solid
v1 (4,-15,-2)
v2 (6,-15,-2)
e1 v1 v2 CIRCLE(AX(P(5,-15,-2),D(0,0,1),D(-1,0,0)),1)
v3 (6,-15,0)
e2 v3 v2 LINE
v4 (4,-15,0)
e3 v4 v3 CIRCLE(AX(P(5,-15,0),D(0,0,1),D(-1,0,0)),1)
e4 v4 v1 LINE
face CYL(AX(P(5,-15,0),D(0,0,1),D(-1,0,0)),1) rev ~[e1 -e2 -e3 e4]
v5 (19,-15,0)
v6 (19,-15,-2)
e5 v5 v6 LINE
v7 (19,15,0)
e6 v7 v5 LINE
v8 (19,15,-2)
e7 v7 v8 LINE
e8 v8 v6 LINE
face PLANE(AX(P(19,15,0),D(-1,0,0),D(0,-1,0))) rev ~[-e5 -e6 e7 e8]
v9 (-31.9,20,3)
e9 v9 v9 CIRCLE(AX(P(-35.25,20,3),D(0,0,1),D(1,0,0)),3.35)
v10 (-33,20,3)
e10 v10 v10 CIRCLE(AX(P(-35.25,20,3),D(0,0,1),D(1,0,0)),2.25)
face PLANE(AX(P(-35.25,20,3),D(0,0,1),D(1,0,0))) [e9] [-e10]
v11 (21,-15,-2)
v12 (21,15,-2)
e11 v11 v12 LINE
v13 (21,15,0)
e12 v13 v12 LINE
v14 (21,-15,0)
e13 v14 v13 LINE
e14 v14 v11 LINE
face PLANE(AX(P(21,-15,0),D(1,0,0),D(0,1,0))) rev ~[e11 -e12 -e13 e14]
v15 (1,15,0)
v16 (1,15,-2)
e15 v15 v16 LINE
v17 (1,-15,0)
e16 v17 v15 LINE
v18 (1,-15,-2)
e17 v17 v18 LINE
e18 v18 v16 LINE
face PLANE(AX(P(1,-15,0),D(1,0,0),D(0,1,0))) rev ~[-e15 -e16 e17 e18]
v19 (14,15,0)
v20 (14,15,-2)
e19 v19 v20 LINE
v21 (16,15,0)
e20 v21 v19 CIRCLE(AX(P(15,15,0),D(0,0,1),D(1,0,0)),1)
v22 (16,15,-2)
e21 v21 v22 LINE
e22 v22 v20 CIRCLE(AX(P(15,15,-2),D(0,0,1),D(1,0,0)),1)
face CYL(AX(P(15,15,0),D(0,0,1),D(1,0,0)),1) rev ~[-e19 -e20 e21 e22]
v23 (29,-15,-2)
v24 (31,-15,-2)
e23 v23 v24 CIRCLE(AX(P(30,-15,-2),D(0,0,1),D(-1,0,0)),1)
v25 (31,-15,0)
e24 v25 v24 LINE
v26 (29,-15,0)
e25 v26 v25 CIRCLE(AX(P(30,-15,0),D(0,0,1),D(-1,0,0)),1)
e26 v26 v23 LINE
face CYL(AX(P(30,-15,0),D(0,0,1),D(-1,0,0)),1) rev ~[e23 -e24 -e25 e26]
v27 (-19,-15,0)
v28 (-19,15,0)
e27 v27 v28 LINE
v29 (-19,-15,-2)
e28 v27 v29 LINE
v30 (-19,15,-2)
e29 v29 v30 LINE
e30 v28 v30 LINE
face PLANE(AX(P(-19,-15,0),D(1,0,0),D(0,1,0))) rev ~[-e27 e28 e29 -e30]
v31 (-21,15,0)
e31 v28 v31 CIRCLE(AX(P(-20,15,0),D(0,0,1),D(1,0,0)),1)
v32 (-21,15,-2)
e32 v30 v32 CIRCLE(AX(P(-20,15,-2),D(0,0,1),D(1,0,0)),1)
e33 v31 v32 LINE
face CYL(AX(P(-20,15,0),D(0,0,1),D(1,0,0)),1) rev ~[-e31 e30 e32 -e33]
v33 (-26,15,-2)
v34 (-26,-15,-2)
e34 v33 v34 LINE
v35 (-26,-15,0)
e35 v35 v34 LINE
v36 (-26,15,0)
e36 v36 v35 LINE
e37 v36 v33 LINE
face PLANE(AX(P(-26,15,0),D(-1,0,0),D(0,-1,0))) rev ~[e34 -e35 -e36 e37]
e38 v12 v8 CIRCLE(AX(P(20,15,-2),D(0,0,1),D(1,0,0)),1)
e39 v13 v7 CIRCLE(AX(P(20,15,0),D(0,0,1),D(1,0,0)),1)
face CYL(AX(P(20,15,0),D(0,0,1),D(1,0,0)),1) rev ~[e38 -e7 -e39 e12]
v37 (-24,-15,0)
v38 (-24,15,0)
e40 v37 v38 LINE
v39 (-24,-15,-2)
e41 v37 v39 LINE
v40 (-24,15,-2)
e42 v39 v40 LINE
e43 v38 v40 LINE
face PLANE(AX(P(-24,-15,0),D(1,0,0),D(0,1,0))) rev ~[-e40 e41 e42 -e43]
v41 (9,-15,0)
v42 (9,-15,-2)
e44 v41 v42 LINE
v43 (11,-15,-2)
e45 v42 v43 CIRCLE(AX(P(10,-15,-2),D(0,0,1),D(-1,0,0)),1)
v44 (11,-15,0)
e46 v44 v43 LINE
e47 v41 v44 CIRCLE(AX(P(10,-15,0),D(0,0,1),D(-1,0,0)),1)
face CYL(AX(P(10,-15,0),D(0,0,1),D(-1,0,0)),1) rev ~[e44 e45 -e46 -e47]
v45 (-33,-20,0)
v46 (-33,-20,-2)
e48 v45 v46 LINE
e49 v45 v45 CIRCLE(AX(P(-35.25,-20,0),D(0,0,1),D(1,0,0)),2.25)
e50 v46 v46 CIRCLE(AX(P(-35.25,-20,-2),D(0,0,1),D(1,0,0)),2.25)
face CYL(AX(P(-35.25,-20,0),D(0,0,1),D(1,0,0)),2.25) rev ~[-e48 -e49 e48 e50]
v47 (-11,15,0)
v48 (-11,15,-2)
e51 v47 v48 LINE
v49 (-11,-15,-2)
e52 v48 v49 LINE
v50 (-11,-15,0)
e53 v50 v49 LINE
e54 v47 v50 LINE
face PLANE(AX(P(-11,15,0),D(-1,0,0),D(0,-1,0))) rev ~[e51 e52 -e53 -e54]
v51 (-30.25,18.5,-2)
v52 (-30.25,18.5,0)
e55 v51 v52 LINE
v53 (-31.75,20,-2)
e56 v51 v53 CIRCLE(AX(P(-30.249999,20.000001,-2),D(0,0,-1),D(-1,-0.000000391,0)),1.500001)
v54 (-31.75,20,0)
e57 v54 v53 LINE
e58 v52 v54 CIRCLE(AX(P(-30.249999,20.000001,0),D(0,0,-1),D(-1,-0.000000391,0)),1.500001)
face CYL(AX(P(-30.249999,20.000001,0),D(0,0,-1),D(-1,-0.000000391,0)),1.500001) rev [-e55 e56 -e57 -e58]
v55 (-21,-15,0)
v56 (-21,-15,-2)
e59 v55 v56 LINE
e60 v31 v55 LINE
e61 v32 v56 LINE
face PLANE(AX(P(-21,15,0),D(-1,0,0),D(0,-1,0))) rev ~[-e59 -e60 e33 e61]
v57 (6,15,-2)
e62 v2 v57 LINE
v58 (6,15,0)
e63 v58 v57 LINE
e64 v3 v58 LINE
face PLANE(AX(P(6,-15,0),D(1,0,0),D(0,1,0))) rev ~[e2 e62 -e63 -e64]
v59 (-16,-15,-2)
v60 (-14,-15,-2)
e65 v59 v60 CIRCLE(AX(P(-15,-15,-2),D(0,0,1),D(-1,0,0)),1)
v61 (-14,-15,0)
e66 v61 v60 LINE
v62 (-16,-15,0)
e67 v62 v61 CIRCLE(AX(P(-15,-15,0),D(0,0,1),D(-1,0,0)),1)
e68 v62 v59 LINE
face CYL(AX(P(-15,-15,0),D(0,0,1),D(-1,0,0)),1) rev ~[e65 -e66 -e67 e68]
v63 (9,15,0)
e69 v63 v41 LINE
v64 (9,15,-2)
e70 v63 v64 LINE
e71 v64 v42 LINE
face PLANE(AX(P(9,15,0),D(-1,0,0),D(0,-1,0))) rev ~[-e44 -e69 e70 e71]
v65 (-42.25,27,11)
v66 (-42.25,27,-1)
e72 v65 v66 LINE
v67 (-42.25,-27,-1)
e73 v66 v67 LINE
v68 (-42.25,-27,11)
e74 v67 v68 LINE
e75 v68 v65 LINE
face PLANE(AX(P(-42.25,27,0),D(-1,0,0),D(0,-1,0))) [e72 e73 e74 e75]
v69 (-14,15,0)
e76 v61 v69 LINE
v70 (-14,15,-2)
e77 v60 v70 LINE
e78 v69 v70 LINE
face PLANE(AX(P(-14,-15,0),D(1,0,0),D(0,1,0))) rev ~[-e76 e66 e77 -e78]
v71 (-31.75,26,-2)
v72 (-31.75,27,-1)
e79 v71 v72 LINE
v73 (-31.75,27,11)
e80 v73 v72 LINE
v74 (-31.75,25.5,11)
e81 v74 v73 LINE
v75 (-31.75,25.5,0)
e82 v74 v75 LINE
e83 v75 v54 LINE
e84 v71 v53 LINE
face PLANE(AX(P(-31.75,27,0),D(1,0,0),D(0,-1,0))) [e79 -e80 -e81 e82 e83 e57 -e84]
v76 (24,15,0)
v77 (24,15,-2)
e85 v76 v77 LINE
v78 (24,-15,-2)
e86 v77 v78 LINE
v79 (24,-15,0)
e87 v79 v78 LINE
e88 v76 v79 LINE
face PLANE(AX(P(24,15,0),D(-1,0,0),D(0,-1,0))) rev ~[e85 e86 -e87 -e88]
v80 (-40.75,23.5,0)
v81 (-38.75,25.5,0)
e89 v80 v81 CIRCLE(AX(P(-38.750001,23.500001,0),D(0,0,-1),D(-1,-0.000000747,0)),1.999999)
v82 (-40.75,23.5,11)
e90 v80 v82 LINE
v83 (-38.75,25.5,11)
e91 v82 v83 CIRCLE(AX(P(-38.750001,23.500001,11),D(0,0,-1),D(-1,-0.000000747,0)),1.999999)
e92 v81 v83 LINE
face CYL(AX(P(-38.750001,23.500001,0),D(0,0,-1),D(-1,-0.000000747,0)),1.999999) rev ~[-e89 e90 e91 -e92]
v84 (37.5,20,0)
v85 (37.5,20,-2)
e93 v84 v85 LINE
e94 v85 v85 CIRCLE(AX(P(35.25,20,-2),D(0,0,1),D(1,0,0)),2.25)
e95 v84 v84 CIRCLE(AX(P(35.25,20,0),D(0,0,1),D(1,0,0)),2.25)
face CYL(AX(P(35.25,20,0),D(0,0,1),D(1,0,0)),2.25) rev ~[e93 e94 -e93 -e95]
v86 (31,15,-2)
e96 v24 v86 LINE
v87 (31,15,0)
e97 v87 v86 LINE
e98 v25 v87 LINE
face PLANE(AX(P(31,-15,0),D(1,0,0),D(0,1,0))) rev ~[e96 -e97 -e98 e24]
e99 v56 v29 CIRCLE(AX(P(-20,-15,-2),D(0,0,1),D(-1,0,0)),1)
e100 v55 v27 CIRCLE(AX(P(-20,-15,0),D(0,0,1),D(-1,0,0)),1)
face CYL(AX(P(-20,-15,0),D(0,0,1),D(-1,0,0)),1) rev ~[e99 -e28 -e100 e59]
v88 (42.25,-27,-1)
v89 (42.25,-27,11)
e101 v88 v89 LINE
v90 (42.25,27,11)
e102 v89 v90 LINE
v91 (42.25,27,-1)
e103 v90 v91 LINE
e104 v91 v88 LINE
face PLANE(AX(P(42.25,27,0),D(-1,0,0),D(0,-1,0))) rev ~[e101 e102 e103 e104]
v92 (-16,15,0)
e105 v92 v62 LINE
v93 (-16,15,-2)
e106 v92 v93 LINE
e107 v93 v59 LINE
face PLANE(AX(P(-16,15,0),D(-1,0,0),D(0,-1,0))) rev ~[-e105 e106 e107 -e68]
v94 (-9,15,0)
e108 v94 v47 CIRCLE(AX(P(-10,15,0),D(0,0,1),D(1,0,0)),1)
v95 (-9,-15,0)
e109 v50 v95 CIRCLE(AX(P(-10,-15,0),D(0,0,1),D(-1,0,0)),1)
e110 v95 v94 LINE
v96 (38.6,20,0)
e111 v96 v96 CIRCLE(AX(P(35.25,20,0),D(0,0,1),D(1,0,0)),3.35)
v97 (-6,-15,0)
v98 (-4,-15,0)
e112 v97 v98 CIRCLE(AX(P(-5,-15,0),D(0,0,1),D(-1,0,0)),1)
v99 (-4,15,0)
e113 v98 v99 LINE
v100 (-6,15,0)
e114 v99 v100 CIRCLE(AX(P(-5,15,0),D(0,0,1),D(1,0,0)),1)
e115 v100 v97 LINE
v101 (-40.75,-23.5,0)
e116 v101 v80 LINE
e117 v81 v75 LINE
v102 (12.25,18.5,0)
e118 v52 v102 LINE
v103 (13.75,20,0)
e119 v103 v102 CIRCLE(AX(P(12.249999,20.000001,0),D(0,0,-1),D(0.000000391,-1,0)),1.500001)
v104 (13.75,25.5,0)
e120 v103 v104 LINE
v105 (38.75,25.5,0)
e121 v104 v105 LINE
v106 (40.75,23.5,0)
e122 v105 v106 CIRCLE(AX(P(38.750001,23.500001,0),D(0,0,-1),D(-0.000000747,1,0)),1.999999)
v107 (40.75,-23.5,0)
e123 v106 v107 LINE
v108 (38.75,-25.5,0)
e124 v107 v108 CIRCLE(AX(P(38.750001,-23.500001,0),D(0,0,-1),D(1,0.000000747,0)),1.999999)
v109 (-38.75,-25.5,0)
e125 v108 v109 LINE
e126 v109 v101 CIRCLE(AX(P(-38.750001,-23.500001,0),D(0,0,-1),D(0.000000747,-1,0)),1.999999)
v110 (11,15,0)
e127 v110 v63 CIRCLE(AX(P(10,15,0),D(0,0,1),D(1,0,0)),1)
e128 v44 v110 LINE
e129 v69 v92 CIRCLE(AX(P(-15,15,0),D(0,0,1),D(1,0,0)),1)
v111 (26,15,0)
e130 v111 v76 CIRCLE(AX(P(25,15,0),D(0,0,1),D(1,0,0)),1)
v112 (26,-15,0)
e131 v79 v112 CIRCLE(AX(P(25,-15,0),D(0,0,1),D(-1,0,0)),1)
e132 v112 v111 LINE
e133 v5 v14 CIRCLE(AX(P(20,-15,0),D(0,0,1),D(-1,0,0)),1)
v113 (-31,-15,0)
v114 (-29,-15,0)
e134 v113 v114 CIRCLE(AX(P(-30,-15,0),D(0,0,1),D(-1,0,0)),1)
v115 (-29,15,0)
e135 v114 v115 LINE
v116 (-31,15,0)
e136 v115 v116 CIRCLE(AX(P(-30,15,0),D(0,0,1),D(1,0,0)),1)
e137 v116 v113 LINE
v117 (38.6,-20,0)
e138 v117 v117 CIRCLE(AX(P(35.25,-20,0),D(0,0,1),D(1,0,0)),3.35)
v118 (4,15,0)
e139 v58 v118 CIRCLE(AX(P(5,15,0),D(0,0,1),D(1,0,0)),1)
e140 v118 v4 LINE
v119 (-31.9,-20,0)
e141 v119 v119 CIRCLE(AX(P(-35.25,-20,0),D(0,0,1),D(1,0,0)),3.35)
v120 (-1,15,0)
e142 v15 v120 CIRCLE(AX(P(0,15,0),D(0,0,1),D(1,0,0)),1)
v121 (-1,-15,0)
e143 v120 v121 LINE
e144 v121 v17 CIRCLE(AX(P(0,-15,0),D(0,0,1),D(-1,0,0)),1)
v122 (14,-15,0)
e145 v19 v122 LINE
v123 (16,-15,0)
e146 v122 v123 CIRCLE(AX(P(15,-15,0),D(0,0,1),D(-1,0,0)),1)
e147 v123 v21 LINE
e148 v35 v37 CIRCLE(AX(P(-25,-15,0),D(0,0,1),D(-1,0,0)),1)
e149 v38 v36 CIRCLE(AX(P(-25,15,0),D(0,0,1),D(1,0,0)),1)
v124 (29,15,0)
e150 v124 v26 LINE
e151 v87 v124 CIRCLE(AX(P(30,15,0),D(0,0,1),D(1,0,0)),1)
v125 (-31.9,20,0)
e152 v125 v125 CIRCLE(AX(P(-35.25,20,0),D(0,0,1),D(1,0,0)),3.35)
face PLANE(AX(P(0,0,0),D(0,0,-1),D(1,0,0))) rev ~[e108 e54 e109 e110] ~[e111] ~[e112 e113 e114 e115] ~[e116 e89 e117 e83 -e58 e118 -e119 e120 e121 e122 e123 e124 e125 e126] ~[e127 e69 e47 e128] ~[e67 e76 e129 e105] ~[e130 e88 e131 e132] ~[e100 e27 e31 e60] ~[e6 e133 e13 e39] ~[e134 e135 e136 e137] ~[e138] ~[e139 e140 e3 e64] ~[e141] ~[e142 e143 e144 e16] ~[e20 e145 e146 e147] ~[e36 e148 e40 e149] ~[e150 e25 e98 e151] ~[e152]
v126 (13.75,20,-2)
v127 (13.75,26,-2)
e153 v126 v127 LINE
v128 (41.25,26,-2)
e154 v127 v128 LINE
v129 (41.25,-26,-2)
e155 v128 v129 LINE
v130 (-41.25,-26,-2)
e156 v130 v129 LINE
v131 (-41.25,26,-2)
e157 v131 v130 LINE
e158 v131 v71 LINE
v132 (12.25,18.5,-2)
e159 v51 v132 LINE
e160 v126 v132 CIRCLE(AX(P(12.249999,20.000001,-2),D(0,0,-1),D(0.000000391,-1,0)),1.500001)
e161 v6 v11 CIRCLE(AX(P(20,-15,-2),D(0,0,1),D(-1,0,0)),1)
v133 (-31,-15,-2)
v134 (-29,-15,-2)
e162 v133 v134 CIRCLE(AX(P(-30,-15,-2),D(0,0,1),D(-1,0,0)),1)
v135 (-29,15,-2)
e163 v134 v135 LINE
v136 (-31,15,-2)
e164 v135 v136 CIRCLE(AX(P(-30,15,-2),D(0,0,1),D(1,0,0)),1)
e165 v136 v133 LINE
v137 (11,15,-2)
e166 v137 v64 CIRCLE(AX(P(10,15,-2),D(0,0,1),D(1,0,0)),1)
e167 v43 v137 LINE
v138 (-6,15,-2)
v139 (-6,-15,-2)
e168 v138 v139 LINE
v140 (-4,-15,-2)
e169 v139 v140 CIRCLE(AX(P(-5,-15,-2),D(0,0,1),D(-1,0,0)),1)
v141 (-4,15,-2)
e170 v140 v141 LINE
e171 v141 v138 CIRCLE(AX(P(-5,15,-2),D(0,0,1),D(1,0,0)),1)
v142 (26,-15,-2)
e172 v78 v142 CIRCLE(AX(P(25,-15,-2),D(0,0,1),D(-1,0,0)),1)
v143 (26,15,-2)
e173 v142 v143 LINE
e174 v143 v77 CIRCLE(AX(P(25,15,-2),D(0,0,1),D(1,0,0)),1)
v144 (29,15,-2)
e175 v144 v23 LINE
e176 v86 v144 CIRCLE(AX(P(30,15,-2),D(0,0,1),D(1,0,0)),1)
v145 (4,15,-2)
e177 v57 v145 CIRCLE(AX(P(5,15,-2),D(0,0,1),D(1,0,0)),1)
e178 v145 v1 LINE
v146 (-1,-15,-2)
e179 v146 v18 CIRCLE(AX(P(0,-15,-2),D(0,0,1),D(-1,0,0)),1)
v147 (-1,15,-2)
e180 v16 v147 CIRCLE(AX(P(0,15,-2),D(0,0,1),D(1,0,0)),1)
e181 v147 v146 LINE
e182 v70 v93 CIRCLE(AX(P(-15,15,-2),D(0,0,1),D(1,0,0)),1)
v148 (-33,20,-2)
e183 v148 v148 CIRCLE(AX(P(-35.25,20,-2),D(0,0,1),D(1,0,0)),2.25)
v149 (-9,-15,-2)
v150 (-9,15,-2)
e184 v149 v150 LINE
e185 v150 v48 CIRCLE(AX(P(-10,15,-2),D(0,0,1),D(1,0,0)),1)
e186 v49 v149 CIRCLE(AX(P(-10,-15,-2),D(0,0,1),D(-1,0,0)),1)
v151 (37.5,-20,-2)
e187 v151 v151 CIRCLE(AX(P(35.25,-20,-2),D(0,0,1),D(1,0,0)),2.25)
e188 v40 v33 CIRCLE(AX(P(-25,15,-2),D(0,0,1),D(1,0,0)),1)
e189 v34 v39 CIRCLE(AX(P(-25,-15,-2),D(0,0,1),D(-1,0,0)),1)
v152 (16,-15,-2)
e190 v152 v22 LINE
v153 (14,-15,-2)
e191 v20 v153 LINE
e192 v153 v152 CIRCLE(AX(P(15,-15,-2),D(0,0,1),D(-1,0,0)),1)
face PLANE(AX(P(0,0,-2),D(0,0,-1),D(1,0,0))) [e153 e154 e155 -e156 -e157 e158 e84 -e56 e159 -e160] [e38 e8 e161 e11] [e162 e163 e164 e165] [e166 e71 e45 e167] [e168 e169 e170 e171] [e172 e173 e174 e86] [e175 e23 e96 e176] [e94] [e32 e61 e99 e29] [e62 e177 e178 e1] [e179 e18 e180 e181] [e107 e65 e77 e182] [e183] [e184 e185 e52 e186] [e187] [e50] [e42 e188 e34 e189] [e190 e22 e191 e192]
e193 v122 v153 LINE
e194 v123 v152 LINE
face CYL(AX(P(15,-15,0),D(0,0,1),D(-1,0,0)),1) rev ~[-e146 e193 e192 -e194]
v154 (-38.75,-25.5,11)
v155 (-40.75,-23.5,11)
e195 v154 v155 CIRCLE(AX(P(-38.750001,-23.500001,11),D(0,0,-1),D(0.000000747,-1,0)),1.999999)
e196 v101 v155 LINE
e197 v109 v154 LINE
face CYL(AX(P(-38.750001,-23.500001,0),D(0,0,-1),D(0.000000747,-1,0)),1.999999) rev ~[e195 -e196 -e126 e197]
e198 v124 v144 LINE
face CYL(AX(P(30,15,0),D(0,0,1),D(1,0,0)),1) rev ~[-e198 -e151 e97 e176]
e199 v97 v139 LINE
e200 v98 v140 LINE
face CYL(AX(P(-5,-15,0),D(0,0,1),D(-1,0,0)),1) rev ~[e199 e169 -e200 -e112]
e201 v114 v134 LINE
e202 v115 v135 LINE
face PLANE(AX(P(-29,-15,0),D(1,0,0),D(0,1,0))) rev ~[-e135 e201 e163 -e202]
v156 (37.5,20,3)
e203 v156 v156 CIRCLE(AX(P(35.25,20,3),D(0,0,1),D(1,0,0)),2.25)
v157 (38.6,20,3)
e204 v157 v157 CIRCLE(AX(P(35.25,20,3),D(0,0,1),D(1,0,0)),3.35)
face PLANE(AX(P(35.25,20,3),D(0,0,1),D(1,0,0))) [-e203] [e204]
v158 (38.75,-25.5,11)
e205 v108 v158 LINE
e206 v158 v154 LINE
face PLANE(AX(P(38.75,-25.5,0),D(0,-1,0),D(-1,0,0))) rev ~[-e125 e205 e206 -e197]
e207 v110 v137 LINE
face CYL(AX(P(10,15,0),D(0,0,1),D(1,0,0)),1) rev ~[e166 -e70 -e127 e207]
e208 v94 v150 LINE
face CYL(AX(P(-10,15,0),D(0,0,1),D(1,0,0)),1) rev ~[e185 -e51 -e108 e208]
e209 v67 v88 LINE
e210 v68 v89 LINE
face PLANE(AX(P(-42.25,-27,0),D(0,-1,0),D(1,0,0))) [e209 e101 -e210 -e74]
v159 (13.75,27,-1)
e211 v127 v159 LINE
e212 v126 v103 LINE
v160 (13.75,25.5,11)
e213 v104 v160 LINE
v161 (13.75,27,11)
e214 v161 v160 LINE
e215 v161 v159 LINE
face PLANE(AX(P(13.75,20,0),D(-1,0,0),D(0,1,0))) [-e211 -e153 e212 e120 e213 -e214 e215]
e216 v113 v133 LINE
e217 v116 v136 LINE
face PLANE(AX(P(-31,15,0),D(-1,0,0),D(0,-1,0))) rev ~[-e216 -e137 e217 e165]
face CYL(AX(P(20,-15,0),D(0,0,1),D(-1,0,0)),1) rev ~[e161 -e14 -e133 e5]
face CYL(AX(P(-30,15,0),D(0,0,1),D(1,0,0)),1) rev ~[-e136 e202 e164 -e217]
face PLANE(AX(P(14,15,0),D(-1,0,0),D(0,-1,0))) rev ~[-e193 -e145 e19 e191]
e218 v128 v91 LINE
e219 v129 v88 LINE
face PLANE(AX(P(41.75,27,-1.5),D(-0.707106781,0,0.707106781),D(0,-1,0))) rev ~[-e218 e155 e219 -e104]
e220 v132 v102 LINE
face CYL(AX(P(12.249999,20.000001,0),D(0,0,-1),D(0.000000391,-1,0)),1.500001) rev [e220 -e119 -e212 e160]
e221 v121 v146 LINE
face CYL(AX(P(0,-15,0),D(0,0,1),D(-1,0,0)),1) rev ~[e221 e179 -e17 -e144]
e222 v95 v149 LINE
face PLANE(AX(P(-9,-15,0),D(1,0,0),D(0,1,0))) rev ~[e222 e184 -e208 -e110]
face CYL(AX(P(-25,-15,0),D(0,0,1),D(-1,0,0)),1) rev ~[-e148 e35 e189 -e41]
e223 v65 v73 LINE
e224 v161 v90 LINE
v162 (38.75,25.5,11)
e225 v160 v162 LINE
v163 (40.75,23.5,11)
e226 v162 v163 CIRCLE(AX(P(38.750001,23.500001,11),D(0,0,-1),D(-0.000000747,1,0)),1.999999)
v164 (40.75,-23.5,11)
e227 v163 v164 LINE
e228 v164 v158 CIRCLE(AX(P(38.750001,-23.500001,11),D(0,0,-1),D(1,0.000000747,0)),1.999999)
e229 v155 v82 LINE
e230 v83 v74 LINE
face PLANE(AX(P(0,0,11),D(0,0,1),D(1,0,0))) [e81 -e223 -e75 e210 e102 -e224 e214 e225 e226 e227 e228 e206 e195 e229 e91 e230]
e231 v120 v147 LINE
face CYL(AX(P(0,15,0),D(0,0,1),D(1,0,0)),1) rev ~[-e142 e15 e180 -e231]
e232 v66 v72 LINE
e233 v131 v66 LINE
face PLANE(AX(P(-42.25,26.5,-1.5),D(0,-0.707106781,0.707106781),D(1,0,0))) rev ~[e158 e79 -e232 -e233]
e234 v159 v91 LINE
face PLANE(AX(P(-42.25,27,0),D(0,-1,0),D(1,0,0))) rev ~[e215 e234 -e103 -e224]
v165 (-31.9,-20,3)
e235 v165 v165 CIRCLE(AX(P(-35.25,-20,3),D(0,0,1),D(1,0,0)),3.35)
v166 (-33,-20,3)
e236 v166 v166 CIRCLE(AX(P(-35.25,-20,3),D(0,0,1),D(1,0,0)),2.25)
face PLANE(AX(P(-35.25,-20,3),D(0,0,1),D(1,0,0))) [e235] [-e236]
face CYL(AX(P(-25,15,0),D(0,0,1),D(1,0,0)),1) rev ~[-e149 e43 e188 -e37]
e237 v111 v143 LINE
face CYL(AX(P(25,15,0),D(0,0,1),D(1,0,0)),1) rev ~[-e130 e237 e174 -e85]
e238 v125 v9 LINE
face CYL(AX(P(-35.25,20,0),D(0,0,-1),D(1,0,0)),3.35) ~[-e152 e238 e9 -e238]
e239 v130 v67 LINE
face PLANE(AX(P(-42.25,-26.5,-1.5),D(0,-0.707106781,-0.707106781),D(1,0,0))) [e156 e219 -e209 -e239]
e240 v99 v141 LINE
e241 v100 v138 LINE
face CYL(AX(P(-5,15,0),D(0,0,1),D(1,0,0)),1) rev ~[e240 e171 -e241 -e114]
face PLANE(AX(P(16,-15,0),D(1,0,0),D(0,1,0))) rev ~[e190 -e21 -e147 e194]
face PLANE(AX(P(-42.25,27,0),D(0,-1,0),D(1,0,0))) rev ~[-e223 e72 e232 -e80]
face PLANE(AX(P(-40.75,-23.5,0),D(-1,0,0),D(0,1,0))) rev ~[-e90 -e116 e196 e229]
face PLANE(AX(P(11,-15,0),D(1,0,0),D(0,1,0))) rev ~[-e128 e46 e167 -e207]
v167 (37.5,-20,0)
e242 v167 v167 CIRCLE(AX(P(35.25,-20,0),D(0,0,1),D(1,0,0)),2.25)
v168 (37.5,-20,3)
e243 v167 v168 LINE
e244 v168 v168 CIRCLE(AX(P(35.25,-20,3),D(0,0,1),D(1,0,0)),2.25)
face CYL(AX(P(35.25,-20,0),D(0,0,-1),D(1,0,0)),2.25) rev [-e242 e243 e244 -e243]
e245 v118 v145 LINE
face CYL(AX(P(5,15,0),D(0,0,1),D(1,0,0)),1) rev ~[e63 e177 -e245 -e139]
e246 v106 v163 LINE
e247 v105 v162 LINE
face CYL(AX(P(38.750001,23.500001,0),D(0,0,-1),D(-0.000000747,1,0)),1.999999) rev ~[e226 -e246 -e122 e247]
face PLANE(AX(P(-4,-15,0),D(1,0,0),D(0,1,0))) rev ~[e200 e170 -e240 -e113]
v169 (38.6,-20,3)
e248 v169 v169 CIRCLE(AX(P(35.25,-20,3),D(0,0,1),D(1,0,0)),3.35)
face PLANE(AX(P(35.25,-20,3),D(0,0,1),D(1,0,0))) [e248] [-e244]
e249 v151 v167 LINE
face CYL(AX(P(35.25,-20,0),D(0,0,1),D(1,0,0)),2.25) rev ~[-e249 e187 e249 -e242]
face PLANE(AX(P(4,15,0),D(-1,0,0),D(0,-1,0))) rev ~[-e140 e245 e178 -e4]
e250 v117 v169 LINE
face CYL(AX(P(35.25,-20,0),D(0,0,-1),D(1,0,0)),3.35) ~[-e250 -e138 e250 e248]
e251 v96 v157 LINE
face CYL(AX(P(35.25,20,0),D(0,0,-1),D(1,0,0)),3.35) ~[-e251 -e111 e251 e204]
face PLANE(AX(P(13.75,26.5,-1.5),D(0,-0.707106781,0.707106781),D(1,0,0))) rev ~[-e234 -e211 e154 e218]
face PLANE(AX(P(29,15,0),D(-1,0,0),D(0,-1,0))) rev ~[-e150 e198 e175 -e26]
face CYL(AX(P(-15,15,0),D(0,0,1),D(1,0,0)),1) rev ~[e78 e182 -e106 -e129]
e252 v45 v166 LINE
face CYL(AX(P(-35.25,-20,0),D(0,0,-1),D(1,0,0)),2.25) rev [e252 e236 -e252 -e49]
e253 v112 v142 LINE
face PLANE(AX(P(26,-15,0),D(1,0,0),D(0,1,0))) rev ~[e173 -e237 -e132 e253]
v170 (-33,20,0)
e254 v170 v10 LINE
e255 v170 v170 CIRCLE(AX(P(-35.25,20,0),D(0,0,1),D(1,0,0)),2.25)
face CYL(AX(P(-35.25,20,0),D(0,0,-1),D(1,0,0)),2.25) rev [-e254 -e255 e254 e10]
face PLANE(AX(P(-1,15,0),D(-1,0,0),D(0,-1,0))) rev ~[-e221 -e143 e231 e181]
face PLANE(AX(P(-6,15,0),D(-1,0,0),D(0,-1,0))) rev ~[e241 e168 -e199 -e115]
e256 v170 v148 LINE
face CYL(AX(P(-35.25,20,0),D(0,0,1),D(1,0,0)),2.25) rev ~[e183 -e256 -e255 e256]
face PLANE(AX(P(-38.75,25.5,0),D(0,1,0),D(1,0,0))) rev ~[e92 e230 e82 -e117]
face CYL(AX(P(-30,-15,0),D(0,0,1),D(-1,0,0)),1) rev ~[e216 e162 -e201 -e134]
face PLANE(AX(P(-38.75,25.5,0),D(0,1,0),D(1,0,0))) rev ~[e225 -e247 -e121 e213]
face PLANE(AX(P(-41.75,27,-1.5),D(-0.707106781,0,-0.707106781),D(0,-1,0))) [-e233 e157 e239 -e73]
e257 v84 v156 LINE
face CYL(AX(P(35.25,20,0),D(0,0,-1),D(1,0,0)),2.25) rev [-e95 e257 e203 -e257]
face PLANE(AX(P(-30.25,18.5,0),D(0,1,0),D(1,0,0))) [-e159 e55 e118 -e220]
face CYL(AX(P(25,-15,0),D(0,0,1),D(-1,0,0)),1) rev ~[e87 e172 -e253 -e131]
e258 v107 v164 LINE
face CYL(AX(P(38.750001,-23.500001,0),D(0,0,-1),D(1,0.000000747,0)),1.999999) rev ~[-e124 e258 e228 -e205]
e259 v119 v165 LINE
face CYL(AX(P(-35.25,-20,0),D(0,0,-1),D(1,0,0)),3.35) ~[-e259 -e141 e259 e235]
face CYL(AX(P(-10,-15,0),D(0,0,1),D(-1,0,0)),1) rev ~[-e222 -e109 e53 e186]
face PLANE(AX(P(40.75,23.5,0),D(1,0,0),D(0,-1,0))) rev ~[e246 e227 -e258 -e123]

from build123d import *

# Parameters (mm, degrees)
F0_W      = 84.5
F0_H      = 54
F1_DEPTH  = 11
F2_W      = 84.5
F2_H      = 54
F3_DEPTH  = 2
F4_R      = 2.25
F5_DEPTH  = 12.5
F6_R      = 3.35
F6_R_2    = 2.25
F7_DEPTH  = 3
F8_SIZE   = 1
F10_DEPTH = 2


with BuildPart() as f1:
    # F0 (on Top) → F1 (new body)
    with BuildSketch(Plane.XY):
        Rectangle(F0_W, F0_H)
        with BuildLine():
            Line((-40.75, -23.5), (-40.75, 23.5))
            ThreePointArc((-40.75, 23.5), (-40.164214, 24.914214), (-38.75, 25.5))
            Line((-38.75, 25.5), (38.75, 25.5))
            ThreePointArc((38.75, 25.5), (40.164214, 24.914214), (40.75, 23.5))
            Line((40.75, 23.5), (40.75, -23.5))
            ThreePointArc((40.75, -23.5), (40.164214, -24.914214), (38.75, -25.5))
            Line((38.75, -25.5), (-38.75, -25.5))
            ThreePointArc((-38.75, -25.5), (-40.164214, -24.914214), (-40.75, -23.5))
        make_face(mode=Mode.SUBTRACT)
    extrude(amount=F1_DEPTH)

    # F2 (on face) → F3 (join)
    with BuildSketch(Plane(origin=(0, 0, 0), x_dir=(1, 0, 0), z_dir=(0, 0, -1))):
        Rectangle(F2_W, F2_H)
    extrude(amount=F3_DEPTH)

    # F4 (on face) → F5 (cut, symmetric)
    with BuildSketch(Plane.XY):
        with Locations((-35.25, 20)):
            Circle(F4_R)
        with BuildLine():
            ThreePointArc((-31.75, 20), (-31.31066, 18.93934), (-30.25, 18.5))
            Line((-30.25, 18.5), (12.25, 18.5))
            ThreePointArc((12.25, 18.5), (13.31066, 18.93934), (13.75, 20))
            Line((13.75, 20), (13.75, 27))
            Line((13.75, 27), (-31.75, 27))
            Line((-31.75, 27), (-31.75, 20))
        make_face()
        with Locations((-35.25, -20)):
            Circle(F4_R)
        with Locations((35.25, 20)):
            Circle(F4_R)
        with Locations((35.25, -20)):
            Circle(F4_R)
    extrude(amount=F5_DEPTH, both=True, mode=Mode.SUBTRACT)

    # F6 (on face) → F7 (join)
    with BuildSketch(Plane.XY):
        with Locations((-35.25, 20)):
            Circle(F6_R)
        with Locations((-35.25, 20)):
            Circle(F6_R_2, mode=Mode.SUBTRACT)
        with Locations((35.25, 20)):
            Circle(F6_R)
        with Locations((35.25, 20)):
            Circle(F6_R_2, mode=Mode.SUBTRACT)
        with Locations((-35.25, -20)):
            Circle(F6_R)
        with Locations((-35.25, -20)):
            Circle(F6_R_2, mode=Mode.SUBTRACT)
        with Locations((35.25, -20)):
            Circle(F6_R)
        with Locations((35.25, -20)):
            Circle(F6_R_2, mode=Mode.SUBTRACT)
    extrude(amount=F7_DEPTH)

    # F8
    f8_edges = [f1.edges().sort_by_distance(p)[0] for p in [
        (-42.25, 0, -2),
        (-37, 27, -2),
        (28, 27, -2),
        (0, -27, -2),
        (42.25, 0, -2),
    ]]
    chamfer(f8_edges, length=F8_SIZE)

    # F9 (on face) → F10 (cut, through all)
    with BuildSketch(Plane.XY):
        with BuildLine():
            ThreePointArc((1, 15), (0, 16), (-1, 15))
            Line((-1, 15), (-1, -15))
            ThreePointArc((-1, -15), (0, -16), (1, -15))
            Line((1, -15), (1, 15))
        make_face()
        with BuildLine():
            Line((6, -15), (6, 15))
            ThreePointArc((6, 15), (5, 16), (4, 15))
            Line((4, 15), (4, -15))
            ThreePointArc((4, -15), (5, -16), (6, -15))
        make_face()
        with BuildLine():
            Line((11, -15), (11, 15))
            ThreePointArc((11, 15), (10, 16), (9, 15))
            Line((9, 15), (9, -15))
            ThreePointArc((9, -15), (10, -16), (11, -15))
        make_face()
        with BuildLine():
            Line((16, -15), (16, 15))
            ThreePointArc((16, 15), (15, 16), (14, 15))
            Line((14, 15), (14, -15))
            ThreePointArc((14, -15), (15, -16), (16, -15))
        make_face()
        with BuildLine():
            Line((21, -15), (21, 15))
            ThreePointArc((21, 15), (20, 16), (19, 15))
            Line((19, 15), (19, -15))
            ThreePointArc((19, -15), (20, -16), (21, -15))
        make_face()
        with BuildLine():
            Line((26, -15), (26, 15))
            ThreePointArc((26, 15), (25, 16), (24, 15))
            Line((24, 15), (24, -15))
            ThreePointArc((24, -15), (25, -16), (26, -15))
        make_face()
        with BuildLine():
            Line((-4, -15), (-4, 15))
            ThreePointArc((-4, 15), (-5, 16), (-6, 15))
            Line((-6, 15), (-6, -15))
            ThreePointArc((-6, -15), (-5, -16), (-4, -15))
        make_face()
        with BuildLine():
            Line((-9, -15), (-9, 15))
            ThreePointArc((-9, 15), (-10, 16), (-11, 15))
            Line((-11, 15), (-11, -15))
            ThreePointArc((-11, -15), (-10, -16), (-9, -15))
        make_face()
        with BuildLine():
            Line((-14, -15), (-14, 15))
            ThreePointArc((-14, 15), (-15, 16), (-16, 15))
            Line((-16, 15), (-16, -15))
            ThreePointArc((-16, -15), (-15, -16), (-14, -15))
        make_face()
        with BuildLine():
            Line((-19, -15), (-19, 15))
            ThreePointArc((-19, 15), (-20, 16), (-21, 15))
            Line((-21, 15), (-21, -15))
            ThreePointArc((-21, -15), (-20, -16), (-19, -15))
        make_face()
        with BuildLine():
            Line((-24, -15), (-24, 15))
            ThreePointArc((-24, 15), (-25, 16), (-26, 15))
            Line((-26, 15), (-26, -15))
            ThreePointArc((-26, -15), (-25, -16), (-24, -15))
        make_face()
        with BuildLine():
            Line((-29, -15), (-29, 15))
            ThreePointArc((-29, 15), (-30, 16), (-31, 15))
            Line((-31, 15), (-31, -15))
            ThreePointArc((-31, -15), (-30, -16), (-29, -15))
        make_face()
        with BuildLine():
            Line((31, -15), (31, 15))
            ThreePointArc((31, 15), (30, 16), (29, 15))
            Line((29, 15), (29, -15))
            ThreePointArc((29, -15), (30, -16), (31, -15))
        make_face()
    extrude(amount=-F10_DEPTH, mode=Mode.SUBTRACT)


solid = f1.part
